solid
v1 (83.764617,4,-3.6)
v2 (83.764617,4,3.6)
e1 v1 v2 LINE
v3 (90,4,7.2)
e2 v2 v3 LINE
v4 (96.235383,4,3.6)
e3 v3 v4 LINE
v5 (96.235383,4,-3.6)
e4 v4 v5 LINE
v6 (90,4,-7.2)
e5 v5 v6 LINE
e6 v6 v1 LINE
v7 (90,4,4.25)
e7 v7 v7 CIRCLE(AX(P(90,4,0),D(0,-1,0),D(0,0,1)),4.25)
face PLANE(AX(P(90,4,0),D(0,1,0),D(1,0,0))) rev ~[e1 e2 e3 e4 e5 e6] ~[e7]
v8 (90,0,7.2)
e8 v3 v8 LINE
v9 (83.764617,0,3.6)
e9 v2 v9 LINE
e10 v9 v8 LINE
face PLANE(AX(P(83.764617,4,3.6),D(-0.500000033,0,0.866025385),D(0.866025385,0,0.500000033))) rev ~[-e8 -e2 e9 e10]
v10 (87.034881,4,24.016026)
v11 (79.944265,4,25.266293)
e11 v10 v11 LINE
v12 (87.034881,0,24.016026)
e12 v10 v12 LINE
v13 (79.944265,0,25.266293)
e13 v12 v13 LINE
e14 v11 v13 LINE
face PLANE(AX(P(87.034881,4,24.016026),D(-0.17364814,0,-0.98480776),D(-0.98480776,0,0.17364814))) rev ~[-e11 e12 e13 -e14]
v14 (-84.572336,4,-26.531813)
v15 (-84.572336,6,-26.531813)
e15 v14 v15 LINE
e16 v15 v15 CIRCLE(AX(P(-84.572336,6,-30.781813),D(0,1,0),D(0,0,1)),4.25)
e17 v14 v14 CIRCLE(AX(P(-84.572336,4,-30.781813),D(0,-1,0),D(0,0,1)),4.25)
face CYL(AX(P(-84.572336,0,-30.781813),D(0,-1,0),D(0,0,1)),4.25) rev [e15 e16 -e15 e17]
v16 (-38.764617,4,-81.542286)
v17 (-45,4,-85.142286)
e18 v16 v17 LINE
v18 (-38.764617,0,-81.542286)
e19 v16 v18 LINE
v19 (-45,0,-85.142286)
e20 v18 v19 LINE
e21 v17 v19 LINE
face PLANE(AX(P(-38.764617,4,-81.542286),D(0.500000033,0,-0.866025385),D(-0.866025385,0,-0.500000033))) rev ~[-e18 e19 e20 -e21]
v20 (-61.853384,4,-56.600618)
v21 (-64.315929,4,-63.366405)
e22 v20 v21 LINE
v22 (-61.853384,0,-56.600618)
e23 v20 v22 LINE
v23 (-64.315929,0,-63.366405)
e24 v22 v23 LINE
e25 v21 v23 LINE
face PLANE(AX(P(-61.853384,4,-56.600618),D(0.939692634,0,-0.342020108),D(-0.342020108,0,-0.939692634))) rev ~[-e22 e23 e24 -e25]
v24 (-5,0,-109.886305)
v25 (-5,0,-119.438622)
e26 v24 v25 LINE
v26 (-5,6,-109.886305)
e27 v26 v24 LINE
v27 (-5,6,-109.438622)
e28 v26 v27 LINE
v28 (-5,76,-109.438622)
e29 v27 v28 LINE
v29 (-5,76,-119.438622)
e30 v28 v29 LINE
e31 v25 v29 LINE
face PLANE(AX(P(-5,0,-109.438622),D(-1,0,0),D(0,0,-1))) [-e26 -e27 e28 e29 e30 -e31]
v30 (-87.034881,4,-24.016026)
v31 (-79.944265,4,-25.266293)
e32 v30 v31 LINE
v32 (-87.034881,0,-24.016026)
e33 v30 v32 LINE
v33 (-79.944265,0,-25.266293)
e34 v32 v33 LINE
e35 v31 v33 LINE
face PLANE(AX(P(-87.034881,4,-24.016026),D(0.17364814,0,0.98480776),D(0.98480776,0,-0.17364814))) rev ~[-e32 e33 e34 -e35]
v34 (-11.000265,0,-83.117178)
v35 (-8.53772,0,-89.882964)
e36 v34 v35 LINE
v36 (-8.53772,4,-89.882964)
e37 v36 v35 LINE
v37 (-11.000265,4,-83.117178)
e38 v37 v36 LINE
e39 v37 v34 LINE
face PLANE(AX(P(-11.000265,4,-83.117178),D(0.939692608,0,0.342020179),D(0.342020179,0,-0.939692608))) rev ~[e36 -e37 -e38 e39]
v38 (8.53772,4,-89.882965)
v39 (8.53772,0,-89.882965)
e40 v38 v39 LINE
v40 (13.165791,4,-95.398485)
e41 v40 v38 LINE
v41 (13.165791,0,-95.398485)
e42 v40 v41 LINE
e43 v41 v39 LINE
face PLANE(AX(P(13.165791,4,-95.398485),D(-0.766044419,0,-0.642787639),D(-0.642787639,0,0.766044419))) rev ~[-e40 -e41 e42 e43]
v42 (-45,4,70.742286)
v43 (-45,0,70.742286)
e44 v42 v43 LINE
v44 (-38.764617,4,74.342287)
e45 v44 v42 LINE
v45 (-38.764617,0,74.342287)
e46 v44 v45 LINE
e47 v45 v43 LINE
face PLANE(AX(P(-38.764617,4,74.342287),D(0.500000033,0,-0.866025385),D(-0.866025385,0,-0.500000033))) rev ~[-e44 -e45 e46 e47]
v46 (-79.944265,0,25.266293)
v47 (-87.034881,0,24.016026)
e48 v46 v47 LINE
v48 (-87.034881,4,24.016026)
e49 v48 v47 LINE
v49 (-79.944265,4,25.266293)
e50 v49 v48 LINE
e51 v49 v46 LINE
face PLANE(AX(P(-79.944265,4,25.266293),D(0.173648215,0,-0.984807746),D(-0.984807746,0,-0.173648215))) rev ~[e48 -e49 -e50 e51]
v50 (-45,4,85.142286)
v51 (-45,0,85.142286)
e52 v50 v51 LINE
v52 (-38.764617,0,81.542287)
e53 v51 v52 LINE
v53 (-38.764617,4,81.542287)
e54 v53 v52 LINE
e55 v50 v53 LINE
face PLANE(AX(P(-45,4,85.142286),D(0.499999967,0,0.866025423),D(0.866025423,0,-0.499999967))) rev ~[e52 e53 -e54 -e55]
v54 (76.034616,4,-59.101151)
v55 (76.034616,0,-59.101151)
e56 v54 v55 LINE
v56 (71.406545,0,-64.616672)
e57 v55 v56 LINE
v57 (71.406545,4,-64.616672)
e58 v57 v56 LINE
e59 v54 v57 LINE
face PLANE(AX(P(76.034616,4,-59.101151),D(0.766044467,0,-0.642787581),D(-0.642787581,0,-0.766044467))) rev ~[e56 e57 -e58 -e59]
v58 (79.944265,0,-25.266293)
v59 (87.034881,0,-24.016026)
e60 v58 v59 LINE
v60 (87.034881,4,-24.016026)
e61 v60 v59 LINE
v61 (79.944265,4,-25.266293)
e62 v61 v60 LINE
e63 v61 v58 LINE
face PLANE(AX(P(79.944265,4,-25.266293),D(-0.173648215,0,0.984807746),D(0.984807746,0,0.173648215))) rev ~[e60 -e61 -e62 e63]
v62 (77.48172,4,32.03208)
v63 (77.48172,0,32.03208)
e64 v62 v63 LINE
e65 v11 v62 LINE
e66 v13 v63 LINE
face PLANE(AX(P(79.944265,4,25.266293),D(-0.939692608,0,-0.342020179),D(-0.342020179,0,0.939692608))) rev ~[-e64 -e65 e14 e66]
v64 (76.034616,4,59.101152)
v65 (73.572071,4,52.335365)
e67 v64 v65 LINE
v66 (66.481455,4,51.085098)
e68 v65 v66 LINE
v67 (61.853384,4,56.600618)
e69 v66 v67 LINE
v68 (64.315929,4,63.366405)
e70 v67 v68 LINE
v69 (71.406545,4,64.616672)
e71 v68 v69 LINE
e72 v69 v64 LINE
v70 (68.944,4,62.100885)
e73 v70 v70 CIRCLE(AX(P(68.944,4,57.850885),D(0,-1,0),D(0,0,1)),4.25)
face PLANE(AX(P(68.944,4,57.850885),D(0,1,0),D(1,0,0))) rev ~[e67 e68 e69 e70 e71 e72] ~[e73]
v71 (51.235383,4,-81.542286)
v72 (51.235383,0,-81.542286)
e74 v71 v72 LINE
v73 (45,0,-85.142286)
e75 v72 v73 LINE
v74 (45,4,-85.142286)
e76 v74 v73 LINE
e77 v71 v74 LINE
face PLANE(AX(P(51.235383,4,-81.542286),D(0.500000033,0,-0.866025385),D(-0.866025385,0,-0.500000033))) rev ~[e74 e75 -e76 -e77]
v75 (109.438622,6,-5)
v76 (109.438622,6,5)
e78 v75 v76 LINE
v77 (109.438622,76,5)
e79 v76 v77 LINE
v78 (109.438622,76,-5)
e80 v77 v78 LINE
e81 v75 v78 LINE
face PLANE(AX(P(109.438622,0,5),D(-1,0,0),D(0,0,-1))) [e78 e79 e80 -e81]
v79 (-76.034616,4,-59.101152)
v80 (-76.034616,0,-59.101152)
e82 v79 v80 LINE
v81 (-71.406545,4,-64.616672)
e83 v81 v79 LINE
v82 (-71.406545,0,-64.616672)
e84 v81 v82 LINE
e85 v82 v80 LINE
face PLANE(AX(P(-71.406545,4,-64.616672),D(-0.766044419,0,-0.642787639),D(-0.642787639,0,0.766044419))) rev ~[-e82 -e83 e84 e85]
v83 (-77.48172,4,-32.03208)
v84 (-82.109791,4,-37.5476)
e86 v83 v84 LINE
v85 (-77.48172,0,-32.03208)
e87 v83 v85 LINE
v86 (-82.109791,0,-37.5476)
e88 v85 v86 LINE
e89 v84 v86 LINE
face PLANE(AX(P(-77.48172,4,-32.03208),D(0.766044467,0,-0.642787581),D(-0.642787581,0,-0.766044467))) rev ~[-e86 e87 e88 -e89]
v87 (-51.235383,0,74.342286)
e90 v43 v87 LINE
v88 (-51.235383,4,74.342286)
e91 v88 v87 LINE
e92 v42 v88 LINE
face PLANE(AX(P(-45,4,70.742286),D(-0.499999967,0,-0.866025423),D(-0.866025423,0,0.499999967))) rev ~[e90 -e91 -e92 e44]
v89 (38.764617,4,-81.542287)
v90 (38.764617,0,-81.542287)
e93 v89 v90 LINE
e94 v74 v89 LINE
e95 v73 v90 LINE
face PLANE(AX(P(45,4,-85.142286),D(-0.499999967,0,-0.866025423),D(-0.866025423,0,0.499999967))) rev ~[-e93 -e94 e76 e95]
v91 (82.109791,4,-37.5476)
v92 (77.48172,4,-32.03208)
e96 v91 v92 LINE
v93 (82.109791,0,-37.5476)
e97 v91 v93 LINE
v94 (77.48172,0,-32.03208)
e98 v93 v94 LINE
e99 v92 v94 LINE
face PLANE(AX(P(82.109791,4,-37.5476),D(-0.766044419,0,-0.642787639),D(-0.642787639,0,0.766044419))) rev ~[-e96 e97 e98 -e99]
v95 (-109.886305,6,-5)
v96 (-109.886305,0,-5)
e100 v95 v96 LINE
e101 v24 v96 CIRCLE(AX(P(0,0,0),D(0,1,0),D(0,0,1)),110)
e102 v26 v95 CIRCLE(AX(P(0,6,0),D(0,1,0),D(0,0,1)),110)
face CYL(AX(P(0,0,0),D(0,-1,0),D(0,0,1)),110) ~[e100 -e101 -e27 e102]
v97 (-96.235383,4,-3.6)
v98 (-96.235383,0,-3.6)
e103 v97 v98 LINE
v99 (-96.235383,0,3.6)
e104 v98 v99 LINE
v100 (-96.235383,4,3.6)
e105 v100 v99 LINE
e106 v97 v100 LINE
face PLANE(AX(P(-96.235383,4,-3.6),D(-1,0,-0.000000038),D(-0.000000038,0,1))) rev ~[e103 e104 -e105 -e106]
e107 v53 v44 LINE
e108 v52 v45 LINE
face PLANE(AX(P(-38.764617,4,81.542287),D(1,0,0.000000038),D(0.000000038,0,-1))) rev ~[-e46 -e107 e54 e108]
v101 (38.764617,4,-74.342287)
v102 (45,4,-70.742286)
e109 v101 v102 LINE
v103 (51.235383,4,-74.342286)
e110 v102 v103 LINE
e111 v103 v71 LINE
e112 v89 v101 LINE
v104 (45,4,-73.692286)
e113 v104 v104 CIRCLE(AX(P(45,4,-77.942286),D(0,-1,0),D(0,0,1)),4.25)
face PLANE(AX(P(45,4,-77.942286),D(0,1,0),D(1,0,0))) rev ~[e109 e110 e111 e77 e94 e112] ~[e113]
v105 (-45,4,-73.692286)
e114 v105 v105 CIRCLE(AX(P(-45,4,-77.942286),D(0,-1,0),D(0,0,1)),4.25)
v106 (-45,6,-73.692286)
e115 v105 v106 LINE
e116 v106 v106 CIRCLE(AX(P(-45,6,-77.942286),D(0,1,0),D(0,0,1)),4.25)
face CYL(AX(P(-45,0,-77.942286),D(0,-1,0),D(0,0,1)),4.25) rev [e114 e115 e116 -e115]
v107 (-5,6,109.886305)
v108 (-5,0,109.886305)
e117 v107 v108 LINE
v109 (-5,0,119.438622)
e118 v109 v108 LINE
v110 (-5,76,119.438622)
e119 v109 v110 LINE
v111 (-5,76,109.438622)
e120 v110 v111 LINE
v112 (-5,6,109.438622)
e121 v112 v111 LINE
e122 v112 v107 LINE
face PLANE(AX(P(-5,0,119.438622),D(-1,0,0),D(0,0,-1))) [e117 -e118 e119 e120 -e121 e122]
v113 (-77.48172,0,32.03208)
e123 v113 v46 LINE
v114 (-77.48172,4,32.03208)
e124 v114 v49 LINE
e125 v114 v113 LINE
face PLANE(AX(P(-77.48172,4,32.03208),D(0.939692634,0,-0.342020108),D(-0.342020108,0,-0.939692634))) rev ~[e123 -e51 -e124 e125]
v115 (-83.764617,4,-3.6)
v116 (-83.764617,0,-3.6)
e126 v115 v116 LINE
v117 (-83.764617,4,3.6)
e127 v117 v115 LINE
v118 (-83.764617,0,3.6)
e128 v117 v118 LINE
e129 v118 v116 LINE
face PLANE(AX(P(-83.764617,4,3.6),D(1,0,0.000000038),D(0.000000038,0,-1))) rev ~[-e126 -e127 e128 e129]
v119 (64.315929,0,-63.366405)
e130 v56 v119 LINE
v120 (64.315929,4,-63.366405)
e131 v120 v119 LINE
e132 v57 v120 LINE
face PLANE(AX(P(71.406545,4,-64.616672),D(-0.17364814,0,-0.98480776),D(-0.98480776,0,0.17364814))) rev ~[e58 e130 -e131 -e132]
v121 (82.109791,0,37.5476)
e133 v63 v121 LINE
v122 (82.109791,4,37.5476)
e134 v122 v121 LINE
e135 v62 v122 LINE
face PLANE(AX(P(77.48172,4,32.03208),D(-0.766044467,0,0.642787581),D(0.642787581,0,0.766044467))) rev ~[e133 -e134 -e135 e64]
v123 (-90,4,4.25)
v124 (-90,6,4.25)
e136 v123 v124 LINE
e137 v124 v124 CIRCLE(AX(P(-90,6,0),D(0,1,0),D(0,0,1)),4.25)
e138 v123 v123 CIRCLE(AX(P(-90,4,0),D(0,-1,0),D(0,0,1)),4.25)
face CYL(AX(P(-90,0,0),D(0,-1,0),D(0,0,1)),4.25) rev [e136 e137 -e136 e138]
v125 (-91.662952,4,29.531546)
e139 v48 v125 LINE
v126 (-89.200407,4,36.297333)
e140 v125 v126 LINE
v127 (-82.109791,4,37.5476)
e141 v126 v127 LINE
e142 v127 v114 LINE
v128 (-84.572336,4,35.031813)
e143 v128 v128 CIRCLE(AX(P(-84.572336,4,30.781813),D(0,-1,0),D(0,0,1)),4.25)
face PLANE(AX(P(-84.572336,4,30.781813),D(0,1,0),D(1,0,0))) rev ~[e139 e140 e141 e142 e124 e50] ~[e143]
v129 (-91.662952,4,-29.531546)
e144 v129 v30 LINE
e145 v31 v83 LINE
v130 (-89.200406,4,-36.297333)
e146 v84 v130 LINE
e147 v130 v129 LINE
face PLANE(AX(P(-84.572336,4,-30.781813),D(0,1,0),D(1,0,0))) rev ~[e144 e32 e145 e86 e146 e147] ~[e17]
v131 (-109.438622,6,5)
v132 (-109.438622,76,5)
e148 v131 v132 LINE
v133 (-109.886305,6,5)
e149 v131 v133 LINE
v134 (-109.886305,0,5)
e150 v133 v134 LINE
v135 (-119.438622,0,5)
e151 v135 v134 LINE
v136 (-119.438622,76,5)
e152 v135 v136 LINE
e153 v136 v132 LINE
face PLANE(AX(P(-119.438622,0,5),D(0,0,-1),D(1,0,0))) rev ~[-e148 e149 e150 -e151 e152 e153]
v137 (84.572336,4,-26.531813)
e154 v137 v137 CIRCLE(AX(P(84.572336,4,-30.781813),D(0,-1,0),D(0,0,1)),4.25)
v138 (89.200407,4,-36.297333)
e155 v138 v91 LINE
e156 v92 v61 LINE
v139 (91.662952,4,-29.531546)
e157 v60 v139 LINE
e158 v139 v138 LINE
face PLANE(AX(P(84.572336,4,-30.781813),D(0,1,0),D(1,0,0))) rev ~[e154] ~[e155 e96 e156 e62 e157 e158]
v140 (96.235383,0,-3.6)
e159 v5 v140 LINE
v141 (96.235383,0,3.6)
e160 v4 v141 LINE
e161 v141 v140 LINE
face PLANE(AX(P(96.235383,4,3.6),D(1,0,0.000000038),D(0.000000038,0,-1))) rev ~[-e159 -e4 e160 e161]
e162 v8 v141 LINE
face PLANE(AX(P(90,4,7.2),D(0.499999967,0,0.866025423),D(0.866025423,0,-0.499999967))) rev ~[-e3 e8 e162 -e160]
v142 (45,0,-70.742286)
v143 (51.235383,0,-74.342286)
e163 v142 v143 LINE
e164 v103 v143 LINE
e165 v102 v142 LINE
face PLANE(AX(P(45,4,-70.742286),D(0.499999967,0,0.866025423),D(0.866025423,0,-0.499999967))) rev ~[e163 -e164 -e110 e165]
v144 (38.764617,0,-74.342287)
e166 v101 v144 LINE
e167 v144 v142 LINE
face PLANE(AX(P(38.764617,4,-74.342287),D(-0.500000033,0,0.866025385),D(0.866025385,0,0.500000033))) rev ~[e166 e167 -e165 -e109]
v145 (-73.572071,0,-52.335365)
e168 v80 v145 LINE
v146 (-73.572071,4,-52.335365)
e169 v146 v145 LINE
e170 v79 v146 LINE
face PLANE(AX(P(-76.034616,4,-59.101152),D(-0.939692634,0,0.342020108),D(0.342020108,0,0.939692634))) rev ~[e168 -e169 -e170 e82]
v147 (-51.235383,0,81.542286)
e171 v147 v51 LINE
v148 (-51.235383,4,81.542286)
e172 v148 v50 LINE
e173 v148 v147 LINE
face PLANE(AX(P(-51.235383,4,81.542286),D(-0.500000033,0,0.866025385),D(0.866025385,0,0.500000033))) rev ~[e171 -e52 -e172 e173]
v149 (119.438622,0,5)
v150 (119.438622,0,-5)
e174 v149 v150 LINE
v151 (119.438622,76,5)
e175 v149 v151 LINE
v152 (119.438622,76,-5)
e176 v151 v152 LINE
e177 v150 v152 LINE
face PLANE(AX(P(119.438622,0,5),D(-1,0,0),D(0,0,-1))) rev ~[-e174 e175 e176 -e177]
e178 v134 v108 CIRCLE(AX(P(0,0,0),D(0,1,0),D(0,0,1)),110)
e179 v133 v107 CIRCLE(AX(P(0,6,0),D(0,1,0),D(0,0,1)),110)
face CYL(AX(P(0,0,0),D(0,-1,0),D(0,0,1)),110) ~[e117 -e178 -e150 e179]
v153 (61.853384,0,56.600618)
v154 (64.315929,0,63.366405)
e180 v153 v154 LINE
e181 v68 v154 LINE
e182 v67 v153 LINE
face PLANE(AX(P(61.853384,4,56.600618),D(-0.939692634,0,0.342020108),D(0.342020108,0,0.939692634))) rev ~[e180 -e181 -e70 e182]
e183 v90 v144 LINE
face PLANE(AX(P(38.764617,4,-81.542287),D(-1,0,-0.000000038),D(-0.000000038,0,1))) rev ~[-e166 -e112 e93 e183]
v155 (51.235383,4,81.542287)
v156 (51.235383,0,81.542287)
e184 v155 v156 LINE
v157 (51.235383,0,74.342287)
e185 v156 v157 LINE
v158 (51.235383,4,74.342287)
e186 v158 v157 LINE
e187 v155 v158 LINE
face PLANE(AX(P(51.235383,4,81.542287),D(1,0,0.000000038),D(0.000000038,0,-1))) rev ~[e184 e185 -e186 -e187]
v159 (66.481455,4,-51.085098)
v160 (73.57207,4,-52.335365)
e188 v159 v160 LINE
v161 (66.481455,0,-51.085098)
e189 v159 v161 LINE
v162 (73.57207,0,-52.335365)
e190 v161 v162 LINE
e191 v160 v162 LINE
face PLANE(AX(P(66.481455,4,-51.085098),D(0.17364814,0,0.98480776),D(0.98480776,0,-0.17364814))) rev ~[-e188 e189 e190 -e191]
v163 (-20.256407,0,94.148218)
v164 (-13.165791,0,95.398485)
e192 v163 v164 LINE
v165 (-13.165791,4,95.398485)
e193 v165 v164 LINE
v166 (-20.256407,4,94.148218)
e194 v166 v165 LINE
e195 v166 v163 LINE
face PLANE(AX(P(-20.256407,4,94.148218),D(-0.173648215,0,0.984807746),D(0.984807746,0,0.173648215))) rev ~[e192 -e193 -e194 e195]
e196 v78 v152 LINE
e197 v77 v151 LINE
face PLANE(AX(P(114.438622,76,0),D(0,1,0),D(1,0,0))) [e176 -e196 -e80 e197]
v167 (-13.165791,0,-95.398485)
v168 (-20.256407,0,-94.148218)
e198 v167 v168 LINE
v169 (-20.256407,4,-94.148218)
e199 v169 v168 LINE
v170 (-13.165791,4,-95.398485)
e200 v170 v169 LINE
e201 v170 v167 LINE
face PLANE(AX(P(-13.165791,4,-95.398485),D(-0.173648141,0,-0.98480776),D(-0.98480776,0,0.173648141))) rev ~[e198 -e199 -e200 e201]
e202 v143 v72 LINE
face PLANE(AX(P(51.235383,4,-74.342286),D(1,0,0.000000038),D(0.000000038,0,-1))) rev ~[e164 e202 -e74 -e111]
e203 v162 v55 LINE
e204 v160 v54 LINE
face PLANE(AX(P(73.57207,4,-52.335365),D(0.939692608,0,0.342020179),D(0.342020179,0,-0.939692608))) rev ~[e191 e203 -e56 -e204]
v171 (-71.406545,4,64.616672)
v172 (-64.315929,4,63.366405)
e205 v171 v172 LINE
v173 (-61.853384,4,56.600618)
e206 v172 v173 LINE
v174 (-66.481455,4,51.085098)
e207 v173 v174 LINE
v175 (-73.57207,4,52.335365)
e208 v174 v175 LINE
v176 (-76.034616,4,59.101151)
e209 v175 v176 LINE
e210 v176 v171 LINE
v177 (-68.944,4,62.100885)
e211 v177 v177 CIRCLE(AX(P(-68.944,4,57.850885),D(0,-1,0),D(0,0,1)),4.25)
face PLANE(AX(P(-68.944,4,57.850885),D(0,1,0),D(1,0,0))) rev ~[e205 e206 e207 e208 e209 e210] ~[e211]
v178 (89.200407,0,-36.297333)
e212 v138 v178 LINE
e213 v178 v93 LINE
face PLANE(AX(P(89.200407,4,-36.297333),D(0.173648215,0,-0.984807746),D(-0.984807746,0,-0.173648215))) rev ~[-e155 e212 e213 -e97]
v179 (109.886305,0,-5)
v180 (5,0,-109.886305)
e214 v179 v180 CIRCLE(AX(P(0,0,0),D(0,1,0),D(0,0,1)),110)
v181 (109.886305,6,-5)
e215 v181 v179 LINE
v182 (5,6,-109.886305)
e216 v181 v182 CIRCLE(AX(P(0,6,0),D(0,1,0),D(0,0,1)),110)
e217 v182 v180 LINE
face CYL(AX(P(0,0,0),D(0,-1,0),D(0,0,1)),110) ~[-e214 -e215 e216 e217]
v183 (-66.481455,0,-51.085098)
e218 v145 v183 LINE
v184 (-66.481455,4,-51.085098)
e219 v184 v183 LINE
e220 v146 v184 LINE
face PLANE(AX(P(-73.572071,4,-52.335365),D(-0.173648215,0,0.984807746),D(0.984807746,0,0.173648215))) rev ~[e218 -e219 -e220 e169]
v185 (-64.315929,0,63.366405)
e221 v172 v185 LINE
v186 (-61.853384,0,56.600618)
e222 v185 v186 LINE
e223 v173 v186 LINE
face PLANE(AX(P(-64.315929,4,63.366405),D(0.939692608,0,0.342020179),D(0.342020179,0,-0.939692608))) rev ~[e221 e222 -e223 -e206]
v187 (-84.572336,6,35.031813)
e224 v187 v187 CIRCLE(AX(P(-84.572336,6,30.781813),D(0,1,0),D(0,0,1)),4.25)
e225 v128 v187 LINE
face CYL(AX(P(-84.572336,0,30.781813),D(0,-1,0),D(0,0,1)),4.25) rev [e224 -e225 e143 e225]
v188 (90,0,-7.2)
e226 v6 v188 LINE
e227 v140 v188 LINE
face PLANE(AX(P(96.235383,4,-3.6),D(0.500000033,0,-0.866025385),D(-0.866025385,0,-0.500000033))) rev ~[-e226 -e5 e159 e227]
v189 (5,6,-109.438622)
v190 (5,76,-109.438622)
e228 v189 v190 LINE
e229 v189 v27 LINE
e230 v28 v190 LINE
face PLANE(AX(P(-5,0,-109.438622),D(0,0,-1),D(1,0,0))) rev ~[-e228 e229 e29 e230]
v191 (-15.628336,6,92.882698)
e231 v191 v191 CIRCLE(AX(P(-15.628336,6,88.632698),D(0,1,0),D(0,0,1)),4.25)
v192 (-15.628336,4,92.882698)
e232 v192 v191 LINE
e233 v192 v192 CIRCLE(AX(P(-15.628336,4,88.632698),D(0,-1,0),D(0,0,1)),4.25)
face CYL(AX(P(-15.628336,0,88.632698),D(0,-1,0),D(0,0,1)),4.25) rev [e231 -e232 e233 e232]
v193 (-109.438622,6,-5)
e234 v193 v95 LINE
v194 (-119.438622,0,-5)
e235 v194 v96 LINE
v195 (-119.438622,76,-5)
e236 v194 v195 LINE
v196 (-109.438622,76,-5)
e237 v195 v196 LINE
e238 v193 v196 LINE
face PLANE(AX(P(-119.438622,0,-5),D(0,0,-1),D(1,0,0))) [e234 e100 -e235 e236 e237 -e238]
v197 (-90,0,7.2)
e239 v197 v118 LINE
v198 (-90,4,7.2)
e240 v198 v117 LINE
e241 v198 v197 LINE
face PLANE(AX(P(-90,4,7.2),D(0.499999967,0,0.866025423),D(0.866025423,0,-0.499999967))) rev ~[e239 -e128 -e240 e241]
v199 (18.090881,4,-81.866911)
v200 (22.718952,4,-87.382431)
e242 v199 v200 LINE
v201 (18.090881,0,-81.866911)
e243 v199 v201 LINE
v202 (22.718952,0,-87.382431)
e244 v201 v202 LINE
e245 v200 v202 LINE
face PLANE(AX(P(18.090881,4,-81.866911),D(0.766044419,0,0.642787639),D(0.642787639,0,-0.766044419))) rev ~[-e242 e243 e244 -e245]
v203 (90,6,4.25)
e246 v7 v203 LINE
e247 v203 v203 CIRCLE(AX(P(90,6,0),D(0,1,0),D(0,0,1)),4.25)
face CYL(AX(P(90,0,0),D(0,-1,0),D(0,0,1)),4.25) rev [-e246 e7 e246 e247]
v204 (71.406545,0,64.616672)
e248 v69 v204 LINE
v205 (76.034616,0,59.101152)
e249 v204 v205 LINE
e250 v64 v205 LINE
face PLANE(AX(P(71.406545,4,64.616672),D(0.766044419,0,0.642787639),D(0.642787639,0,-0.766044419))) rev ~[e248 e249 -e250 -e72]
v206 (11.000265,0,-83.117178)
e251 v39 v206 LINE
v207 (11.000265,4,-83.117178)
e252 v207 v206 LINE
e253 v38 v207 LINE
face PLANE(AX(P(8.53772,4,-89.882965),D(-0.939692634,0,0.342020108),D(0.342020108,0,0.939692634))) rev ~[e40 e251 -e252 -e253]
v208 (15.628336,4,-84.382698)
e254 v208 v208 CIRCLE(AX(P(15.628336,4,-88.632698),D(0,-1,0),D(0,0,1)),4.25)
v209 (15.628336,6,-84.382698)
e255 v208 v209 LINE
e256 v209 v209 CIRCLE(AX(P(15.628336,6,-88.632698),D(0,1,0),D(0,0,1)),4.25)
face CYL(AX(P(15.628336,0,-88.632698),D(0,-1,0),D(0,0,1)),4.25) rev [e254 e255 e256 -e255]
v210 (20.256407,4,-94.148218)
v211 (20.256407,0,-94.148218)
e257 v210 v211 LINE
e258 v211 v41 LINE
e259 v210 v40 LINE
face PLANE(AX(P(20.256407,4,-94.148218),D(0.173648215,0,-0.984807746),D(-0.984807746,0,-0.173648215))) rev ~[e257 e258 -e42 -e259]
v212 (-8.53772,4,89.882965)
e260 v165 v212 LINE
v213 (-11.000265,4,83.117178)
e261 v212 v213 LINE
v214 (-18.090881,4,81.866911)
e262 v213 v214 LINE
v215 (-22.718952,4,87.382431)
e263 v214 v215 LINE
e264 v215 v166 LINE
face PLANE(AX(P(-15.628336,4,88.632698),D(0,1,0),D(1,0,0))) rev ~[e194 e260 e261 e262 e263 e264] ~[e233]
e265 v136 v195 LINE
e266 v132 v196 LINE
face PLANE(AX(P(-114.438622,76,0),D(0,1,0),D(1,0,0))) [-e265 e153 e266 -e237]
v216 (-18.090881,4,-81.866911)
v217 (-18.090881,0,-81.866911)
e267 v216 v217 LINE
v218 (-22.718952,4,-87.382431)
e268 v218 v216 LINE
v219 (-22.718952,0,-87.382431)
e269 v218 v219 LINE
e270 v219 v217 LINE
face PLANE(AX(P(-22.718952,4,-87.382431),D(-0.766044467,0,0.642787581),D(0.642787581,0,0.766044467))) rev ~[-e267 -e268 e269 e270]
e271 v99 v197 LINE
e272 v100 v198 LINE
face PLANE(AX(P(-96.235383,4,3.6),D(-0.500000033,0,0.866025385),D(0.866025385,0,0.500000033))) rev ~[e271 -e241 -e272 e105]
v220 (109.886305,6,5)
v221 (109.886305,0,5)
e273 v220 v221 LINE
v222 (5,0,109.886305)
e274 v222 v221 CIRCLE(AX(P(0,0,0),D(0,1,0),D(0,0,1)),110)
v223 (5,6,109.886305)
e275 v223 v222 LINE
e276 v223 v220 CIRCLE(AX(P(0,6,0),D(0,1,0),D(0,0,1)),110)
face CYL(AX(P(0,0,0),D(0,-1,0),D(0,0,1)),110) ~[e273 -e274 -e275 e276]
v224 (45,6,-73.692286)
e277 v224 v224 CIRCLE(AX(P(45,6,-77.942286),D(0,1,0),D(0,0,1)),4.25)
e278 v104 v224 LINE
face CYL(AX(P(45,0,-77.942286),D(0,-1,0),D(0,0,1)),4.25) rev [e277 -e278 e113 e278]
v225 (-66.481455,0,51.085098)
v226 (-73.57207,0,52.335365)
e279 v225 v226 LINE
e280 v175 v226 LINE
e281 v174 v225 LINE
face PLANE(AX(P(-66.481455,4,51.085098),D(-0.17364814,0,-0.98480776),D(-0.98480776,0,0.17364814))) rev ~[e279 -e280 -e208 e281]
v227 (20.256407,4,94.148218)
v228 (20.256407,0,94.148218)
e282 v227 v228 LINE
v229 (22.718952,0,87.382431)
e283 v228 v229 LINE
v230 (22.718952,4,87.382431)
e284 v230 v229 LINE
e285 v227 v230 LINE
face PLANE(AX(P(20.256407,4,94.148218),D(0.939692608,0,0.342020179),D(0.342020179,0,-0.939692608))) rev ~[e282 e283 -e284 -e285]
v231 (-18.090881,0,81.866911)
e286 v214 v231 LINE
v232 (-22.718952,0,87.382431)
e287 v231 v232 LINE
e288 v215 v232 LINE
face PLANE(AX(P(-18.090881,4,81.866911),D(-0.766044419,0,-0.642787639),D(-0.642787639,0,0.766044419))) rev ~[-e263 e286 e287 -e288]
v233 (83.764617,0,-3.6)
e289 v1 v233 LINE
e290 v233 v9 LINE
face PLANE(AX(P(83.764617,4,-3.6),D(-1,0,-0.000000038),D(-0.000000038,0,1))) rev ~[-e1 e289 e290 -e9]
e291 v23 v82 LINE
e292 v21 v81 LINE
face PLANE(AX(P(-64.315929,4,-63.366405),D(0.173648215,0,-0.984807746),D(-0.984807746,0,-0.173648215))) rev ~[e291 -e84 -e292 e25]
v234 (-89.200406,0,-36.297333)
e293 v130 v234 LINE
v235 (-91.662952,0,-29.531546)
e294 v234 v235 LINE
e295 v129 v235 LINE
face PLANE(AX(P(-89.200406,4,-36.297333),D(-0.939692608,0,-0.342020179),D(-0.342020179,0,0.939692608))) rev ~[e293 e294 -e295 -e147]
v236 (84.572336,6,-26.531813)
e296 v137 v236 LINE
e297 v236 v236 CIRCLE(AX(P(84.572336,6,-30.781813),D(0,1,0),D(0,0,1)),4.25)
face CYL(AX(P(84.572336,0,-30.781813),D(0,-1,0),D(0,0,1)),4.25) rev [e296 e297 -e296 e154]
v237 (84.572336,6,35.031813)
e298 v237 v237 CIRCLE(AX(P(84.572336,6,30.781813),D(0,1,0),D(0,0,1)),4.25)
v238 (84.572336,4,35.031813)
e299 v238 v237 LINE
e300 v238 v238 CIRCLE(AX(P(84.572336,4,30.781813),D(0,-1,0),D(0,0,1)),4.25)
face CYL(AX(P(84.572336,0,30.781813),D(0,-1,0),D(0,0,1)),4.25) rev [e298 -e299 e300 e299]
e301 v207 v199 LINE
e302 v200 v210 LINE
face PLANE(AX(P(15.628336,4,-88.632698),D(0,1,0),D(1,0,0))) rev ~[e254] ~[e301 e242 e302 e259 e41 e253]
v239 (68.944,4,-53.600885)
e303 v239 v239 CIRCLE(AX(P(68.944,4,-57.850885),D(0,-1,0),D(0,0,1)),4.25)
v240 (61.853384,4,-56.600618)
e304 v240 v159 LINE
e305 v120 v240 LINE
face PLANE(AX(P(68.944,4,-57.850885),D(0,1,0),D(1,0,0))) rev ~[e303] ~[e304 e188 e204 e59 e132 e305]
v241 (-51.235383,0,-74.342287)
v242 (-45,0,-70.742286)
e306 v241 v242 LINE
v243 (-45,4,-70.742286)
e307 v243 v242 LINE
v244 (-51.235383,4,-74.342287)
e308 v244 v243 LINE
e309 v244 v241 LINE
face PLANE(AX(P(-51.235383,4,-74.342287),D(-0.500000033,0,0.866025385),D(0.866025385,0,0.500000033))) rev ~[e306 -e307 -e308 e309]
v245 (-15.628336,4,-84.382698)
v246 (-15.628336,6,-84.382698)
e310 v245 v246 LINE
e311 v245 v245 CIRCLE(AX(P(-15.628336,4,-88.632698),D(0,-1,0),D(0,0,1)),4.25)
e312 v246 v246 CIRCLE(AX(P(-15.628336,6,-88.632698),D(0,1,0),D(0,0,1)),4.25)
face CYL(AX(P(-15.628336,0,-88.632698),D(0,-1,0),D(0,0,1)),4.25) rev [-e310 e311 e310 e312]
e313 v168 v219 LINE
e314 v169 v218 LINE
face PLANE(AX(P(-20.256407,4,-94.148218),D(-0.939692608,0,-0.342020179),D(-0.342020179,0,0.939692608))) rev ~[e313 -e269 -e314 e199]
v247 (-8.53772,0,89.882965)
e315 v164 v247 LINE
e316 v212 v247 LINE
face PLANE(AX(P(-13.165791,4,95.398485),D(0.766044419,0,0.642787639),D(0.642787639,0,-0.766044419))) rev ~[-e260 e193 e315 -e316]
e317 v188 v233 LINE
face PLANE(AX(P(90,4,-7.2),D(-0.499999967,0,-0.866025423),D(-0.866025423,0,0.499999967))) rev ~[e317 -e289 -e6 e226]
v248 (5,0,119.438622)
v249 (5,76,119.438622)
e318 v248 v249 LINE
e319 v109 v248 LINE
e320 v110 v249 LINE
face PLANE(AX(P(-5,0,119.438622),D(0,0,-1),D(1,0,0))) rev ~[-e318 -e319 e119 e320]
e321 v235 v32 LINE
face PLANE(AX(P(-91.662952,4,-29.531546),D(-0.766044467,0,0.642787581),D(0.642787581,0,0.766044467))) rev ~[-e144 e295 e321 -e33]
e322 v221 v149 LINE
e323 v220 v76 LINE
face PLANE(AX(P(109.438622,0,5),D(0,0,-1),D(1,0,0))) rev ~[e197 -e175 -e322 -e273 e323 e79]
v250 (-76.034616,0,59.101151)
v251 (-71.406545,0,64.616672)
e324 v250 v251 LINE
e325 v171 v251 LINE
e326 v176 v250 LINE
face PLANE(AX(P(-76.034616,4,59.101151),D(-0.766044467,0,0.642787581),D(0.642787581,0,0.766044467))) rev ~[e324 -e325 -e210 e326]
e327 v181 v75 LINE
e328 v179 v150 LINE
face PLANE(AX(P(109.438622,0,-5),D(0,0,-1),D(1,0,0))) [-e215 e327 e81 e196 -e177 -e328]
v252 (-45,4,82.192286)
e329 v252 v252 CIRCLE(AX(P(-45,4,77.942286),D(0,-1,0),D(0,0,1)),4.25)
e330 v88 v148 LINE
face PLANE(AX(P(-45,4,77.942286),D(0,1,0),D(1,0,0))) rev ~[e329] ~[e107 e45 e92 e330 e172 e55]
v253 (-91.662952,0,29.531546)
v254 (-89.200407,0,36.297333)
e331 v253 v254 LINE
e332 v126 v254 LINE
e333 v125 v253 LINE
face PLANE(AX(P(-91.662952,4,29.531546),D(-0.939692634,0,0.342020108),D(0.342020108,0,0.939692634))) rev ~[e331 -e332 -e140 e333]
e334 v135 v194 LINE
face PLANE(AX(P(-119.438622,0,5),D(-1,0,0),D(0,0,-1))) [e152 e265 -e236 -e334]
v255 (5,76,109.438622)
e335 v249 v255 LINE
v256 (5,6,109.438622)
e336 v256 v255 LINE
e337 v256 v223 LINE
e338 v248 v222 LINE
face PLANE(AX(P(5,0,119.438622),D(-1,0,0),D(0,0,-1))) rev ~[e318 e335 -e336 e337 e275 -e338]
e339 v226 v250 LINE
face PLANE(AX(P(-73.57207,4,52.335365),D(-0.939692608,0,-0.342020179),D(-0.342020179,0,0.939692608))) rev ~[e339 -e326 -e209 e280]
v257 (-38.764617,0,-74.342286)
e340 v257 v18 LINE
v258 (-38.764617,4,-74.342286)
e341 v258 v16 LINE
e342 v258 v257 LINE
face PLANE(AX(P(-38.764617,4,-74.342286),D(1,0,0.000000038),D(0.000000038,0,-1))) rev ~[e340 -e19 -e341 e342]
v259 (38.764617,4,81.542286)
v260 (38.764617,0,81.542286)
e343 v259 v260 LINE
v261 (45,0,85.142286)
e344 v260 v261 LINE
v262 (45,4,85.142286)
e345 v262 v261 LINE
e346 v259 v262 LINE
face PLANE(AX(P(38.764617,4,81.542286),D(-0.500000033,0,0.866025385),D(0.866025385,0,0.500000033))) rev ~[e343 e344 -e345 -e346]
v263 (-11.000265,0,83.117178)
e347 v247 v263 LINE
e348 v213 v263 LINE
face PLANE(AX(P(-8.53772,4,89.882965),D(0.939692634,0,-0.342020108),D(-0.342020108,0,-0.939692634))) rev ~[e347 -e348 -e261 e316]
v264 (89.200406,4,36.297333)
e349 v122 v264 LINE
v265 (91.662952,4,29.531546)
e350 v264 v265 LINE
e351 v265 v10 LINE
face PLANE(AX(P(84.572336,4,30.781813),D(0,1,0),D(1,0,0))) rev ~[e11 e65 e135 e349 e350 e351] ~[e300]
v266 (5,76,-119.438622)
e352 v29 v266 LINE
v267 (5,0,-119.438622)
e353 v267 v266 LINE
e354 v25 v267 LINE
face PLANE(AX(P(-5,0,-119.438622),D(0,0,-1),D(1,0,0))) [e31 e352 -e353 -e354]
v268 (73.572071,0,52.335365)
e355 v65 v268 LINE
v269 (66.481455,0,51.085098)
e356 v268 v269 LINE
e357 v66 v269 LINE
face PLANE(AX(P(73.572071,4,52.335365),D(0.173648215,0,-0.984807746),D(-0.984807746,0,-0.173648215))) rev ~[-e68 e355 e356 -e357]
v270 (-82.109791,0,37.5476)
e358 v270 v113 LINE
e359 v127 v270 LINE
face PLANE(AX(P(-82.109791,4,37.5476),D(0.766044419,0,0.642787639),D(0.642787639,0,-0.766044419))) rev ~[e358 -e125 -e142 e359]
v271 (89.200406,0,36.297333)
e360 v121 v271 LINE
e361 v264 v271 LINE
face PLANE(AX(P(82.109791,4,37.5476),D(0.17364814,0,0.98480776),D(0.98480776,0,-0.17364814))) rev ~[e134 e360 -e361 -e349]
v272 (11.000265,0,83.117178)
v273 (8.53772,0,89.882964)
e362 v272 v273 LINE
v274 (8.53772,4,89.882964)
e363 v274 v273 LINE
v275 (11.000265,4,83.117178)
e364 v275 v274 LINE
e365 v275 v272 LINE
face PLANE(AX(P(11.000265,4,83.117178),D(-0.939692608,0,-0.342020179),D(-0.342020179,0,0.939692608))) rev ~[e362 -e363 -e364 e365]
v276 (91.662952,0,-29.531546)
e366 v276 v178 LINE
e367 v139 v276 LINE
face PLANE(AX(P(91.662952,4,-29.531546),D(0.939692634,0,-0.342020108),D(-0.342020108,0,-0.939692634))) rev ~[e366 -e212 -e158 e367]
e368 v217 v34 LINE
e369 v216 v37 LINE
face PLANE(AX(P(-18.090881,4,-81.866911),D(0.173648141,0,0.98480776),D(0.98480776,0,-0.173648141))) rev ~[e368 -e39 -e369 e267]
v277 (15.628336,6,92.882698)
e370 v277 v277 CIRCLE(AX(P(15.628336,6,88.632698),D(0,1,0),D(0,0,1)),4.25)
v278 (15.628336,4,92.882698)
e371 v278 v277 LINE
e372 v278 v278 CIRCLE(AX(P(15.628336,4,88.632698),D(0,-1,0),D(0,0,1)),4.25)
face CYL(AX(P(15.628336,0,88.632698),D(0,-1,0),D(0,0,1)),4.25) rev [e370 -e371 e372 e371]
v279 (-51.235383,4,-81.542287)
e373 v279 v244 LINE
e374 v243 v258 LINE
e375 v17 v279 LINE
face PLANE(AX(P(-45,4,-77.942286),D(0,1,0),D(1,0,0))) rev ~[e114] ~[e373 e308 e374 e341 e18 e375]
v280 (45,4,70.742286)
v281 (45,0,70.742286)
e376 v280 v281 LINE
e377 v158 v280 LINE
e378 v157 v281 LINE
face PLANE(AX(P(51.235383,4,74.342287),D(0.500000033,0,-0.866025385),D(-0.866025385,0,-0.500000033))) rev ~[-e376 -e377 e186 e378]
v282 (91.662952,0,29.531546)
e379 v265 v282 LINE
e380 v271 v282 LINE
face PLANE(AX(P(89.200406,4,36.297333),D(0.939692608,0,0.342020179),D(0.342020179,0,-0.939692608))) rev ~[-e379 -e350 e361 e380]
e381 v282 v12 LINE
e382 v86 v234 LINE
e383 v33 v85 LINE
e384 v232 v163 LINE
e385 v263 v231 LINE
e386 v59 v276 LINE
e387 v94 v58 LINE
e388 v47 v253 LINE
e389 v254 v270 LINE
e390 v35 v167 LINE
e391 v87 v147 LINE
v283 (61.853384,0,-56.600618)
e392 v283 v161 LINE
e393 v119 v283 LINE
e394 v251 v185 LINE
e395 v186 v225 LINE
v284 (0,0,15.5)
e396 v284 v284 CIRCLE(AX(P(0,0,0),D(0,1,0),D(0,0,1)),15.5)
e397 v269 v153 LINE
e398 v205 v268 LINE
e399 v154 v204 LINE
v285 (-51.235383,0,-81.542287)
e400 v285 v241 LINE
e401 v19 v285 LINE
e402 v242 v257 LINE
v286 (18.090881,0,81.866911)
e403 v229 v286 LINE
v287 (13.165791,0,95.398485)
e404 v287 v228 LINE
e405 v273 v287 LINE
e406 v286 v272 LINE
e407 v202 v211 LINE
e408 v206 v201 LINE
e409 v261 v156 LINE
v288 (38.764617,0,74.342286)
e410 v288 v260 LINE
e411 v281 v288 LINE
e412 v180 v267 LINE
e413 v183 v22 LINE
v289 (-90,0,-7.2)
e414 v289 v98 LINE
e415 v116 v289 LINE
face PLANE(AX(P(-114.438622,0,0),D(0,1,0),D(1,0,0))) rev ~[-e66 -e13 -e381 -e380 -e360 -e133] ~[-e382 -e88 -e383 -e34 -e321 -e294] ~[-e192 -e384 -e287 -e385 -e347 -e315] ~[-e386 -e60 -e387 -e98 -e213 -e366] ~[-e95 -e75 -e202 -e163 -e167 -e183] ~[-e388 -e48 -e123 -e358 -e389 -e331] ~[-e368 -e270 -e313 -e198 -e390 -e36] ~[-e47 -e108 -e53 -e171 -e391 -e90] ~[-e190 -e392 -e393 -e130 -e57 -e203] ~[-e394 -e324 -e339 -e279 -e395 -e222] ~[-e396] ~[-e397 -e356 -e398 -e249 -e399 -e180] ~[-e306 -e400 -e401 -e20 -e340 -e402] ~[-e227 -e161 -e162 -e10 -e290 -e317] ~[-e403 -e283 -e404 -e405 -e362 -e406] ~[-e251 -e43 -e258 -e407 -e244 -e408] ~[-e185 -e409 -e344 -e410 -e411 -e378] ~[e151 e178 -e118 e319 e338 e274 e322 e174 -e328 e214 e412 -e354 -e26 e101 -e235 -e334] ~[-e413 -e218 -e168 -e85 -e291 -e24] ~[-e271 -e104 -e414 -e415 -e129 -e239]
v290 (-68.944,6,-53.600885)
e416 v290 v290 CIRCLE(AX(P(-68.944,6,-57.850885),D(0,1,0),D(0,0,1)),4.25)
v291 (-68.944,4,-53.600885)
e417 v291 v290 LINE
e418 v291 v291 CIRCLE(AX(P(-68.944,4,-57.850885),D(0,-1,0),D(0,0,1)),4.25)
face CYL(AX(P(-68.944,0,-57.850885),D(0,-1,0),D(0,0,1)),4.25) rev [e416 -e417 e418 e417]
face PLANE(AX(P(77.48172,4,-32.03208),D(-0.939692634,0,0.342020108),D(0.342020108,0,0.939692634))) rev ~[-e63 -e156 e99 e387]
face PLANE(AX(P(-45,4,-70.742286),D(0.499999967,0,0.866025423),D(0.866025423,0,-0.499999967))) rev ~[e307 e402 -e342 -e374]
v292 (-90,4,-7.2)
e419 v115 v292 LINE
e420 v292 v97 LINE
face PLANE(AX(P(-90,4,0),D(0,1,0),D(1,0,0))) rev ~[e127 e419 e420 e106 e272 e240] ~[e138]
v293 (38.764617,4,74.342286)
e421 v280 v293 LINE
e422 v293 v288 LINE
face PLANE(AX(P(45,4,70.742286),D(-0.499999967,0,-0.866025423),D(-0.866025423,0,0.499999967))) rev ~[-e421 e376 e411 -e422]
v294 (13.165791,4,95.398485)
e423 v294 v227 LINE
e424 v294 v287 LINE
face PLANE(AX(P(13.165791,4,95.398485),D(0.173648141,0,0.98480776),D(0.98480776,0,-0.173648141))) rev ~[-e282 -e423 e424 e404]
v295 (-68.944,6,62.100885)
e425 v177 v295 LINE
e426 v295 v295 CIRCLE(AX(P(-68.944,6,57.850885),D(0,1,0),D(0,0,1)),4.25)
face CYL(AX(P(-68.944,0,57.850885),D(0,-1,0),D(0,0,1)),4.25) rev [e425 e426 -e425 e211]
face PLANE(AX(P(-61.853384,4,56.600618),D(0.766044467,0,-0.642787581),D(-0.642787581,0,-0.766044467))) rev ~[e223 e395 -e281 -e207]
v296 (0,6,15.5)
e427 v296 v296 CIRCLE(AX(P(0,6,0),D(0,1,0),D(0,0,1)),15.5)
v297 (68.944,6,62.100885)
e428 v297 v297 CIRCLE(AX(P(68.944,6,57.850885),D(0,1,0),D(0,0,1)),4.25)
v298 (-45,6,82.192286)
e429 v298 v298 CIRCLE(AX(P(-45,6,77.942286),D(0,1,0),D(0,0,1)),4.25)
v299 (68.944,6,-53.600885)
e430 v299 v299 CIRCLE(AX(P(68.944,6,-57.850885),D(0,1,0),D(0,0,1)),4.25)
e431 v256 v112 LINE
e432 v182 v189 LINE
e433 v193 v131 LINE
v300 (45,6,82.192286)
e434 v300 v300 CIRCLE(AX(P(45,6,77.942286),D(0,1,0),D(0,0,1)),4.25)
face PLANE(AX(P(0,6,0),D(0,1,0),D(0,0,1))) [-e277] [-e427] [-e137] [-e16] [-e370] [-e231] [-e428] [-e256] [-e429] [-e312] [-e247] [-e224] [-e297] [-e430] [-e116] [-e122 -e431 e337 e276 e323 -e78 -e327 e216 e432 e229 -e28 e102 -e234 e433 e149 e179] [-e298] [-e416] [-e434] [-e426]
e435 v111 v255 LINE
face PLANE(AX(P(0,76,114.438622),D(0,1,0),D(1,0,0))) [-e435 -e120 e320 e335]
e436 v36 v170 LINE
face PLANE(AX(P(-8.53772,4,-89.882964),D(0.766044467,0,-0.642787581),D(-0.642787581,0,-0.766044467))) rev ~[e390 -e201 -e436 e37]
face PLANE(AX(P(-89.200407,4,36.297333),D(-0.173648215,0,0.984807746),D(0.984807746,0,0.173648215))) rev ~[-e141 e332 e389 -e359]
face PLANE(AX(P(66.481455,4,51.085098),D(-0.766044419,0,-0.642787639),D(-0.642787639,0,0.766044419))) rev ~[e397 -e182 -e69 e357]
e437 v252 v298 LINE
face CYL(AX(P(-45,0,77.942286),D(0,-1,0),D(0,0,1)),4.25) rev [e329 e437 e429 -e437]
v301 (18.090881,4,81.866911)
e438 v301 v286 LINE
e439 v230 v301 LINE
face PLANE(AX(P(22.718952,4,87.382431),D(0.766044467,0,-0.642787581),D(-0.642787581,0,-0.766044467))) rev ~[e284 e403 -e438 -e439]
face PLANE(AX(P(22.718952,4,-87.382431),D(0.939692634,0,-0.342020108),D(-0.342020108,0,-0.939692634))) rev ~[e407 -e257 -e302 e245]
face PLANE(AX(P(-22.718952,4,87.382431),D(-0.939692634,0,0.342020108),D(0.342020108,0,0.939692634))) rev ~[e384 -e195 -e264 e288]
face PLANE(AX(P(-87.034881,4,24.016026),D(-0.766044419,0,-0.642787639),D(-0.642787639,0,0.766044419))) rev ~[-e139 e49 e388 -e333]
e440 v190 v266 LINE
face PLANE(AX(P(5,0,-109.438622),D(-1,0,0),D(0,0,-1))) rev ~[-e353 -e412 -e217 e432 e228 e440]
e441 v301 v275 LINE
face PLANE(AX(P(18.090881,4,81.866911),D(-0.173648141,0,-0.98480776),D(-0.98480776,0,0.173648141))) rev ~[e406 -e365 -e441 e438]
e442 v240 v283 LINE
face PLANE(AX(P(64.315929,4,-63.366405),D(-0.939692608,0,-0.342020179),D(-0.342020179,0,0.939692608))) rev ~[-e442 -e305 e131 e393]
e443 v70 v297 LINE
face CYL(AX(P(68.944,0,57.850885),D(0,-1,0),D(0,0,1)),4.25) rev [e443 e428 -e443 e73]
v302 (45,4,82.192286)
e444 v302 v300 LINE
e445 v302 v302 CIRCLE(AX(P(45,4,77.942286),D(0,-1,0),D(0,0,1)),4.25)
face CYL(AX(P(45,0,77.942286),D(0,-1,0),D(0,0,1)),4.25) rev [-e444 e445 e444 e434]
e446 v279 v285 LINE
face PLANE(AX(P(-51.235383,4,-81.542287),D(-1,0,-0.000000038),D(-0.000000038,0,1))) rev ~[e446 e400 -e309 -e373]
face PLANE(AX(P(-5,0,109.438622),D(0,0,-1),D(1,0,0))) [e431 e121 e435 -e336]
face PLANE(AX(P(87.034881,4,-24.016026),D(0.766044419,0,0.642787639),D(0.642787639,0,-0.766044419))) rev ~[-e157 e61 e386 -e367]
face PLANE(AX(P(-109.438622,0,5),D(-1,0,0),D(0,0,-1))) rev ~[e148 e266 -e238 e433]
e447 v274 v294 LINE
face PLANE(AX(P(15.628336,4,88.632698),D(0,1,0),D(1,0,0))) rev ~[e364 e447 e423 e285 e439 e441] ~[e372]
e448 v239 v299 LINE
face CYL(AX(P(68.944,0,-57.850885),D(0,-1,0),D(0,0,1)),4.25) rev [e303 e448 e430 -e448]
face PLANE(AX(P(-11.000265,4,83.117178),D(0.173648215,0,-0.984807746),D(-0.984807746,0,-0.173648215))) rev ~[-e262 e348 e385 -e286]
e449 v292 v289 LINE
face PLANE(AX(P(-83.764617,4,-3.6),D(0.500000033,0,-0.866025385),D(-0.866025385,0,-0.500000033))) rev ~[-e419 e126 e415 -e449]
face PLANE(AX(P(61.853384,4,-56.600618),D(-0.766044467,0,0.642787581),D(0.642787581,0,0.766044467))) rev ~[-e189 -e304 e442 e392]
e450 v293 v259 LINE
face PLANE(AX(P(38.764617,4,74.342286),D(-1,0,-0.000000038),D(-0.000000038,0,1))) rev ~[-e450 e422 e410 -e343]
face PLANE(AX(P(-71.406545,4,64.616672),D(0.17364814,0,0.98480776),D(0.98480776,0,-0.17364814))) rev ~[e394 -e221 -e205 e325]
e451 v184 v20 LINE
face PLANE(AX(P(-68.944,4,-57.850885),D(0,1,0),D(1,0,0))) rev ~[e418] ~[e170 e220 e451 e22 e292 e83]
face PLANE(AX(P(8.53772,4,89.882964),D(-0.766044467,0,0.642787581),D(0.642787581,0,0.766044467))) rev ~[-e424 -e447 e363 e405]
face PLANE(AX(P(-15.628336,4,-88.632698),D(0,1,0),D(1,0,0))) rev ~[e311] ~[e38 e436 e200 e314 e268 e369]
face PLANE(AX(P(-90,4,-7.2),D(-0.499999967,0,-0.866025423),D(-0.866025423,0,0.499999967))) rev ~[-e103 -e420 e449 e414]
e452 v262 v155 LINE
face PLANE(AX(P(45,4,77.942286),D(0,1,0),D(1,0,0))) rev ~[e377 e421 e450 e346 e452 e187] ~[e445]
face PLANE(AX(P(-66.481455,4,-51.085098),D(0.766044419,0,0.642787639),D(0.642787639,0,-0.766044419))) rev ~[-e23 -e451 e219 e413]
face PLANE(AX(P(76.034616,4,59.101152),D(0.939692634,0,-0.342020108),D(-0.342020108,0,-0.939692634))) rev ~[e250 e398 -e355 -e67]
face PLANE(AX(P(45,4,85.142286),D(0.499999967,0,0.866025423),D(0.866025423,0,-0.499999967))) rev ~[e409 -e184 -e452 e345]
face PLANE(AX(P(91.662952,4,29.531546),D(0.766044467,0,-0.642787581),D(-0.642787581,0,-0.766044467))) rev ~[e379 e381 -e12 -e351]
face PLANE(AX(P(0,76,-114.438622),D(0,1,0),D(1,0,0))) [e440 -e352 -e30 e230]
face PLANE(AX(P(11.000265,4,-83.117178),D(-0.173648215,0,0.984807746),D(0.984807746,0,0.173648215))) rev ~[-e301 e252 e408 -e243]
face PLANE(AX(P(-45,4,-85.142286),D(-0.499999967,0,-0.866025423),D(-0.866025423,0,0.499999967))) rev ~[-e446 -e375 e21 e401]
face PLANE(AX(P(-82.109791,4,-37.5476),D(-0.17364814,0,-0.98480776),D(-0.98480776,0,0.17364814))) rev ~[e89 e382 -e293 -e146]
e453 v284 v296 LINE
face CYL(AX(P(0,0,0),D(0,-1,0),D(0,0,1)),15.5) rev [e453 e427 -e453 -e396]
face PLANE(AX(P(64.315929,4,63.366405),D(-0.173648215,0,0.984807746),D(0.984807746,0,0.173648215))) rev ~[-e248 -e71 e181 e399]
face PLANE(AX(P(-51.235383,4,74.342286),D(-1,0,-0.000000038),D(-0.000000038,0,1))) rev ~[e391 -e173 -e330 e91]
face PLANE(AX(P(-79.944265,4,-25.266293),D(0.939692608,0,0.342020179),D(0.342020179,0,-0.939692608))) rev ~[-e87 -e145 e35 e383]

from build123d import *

# Parameters (mm, degrees)
SKETCH1_R           = 110
SKETCH1_R_2         = 4.25
SKETCH1_R_3         = 15.5
BOSS_EXTRUDE1_DEPTH = 6
CUT_EXTRUDE1_START  = -2
CUT_EXTRUDE1_DEPTH  = 6
BOSS_EXTRUDE3_START = -6
SKETCH4_W           = 10
SKETCH4_H           = 10
BOSS_EXTRUDE3_DEPTH = 76


with BuildPart() as part:
    # Sketch1 → Boss-Extrude1 (new body)
    with BuildSketch(Plane(origin=(0, 0, 0), x_dir=(1, 0, 0), z_dir=(0, 1, 0))):
        with Locations(Location((0, 0, 0), (0, 0, 270))):
            Circle(SKETCH1_R)
        with Locations(Location((-90, 0, 0), (0, 0, 270))):
            Circle(SKETCH1_R_2, mode=Mode.SUBTRACT)
        with Locations(Location((-84.572335871, 30.781812899, 0), (0, 0, 270))):
            Circle(SKETCH1_R_2, mode=Mode.SUBTRACT)
        with Locations(Location((-68.943999881, 57.850884872, 0), (0, 0, 270))):
            Circle(SKETCH1_R_2, mode=Mode.SUBTRACT)
        with Locations(Location((-45, 77.942286341, 0), (0, 0, 270))):
            Circle(SKETCH1_R_2, mode=Mode.SUBTRACT)
        with Locations(Location((-15.62833599, 88.632697771, 0), (0, 0, 270))):
            Circle(SKETCH1_R_2, mode=Mode.SUBTRACT)
        with Locations(Location((15.62833599, 88.632697771, 0), (0, 0, 270))):
            Circle(SKETCH1_R_2, mode=Mode.SUBTRACT)
        with Locations(Location((45, 77.942286341, 0), (0, 0, 270))):
            Circle(SKETCH1_R_2, mode=Mode.SUBTRACT)
        with Locations(Location((68.943999881, 57.850884872, 0), (0, 0, 270))):
            Circle(SKETCH1_R_2, mode=Mode.SUBTRACT)
        with Locations(Location((84.572335871, 30.781812899, 0), (0, 0, 270))):
            Circle(SKETCH1_R_2, mode=Mode.SUBTRACT)
        with Locations(Location((90, 0, 0), (0, 0, 270))):
            Circle(SKETCH1_R_2, mode=Mode.SUBTRACT)
        with Locations(Location((84.572335871, -30.781812899, 0), (0, 0, 270))):
            Circle(SKETCH1_R_2, mode=Mode.SUBTRACT)
        with Locations(Location((68.943999881, -57.850884872, 0), (0, 0, 270))):
            Circle(SKETCH1_R_2, mode=Mode.SUBTRACT)
        with Locations(Location((45, -77.942286341, 0), (0, 0, 270))):
            Circle(SKETCH1_R_2, mode=Mode.SUBTRACT)
        with Locations(Location((15.62833599, -88.632697771, 0), (0, 0, 270))):
            Circle(SKETCH1_R_2, mode=Mode.SUBTRACT)
        with Locations(Location((-15.62833599, -88.632697771, 0), (0, 0, 270))):
            Circle(SKETCH1_R_2, mode=Mode.SUBTRACT)
        with Locations(Location((-45, -77.942286341, 0), (0, 0, 270))):
            Circle(SKETCH1_R_2, mode=Mode.SUBTRACT)
        with Locations(Location((-68.943999881, -57.850884872, 0), (0, 0, 270))):
            Circle(SKETCH1_R_2, mode=Mode.SUBTRACT)
        with Locations(Location((-84.572335871, -30.781812899, 0), (0, 0, 270))):
            Circle(SKETCH1_R_2, mode=Mode.SUBTRACT)
        with Locations(Location((0, 0, 0), (0, 0, 270))):
            Circle(SKETCH1_R_3, mode=Mode.SUBTRACT)
    extrude(amount=BOSS_EXTRUDE1_DEPTH)

    # Sketch2 → Cut-Extrude1 (cut)
    with BuildSketch(Plane(origin=(0, 6, 0), x_dir=(1, 0, 0), z_dir=(0, 1, 0)).offset(CUT_EXTRUDE1_START)):
        Polygon((-87.034881158, 24.016026123), (-79.944265289, 25.266292734), (-77.481720002, 32.032079511), (-82.109790583, 37.547599676), (-89.200406452, 36.297333065), (-91.66295174, 29.531546288), align=None)
        Polygon((-90.000000272, -7.2), (-83.764617229, -3.600000236), (-83.764616957, 3.599999764), (-89.999999728, 7.2), (-96.235382771, 3.600000236), (-96.235383043, -3.599999764), align=None)
        Polygon((-73.572070879, 52.335365056), (-66.481455104, 51.085097909), (-61.853384106, 56.600617725), (-64.315928883, 63.366404687), (-71.406544657, 64.616671834), (-76.034615655, 59.101152019), align=None)
        Polygon((-51.235383043, 74.342286576), (-45.000000272, 70.742286341), (-38.764617229, 74.342286105), (-38.764616957, 81.542286105), (-44.999999728, 85.142286341), (-51.235382771, 81.542286576), align=None)
        Polygon((-22.718951859, 87.38243116), (-18.090881278, 81.866910994), (-11.000265409, 83.117177606), (-8.537720121, 89.882964382), (-13.165790702, 95.398484548), (-20.256406571, 94.148217936), align=None)
        Polygon((8.537720216, 89.882964918), (11.000264992, 83.117177955), (18.090880766, 81.866910808), (22.718951764, 87.382430624), (20.256406988, 94.148217587), (13.165791214, 95.398484734), align=None)
        Polygon((38.764617229, 81.542286576), (38.764616957, 74.342286576), (44.999999728, 70.742286341), (51.235382771, 74.342286105), (51.235383043, 81.542286105), (45.000000272, 85.142286341), align=None)
        Polygon((64.315929299, 63.366405037), (61.853384012, 56.60061826), (66.481454593, 51.085098095), (73.572070462, 52.335364706), (76.03461575, 59.101151483), (71.406545168, 64.616671648), align=None)
        Polygon((82.109791094, 37.547599862), (77.481720096, 32.032080046), (79.944264873, 25.266293084), (87.034880647, 24.016025937), (91.662951645, 29.531545752), (89.200406869, 36.297332715), align=None)
        Polygon((90.000000272, 7.2), (83.764617229, 3.600000236), (83.764616957, -3.599999764), (89.999999728, -7.2), (96.235382771, -3.600000236), (96.235383043, 3.599999764), align=None)
        Polygon((87.034881158, -24.016026123), (79.944265289, -25.266292734), (77.481720002, -32.032079511), (82.109790583, -37.547599676), (89.200406452, -36.297333065), (91.66295174, -29.531546288), align=None)
        Polygon((73.572070879, -52.335365056), (66.481455104, -51.085097909), (61.853384106, -56.600617725), (64.315928883, -63.366404687), (71.406544657, -64.616671834), (76.034615655, -59.101152019), align=None)
        Polygon((51.235383043, -74.342286576), (45.000000272, -70.742286341), (38.764617229, -74.342286105), (38.764616957, -81.542286105), (44.999999728, -85.142286341), (51.235382771, -81.542286576), align=None)
        Polygon((22.718951859, -87.38243116), (18.090881278, -81.866910994), (11.000265409, -83.117177606), (8.537720121, -89.882964382), (13.165790702, -95.398484548), (20.256406571, -94.148217936), align=None)
        Polygon((-8.537720216, -89.882964918), (-11.000264992, -83.117177955), (-18.090880766, -81.866910808), (-22.718951764, -87.382430624), (-20.256406988, -94.148217587), (-13.165791214, -95.398484734), align=None)
        Polygon((-38.764617229, -81.542286576), (-38.764616957, -74.342286576), (-44.999999728, -70.742286341), (-51.235382771, -74.342286105), (-51.235383043, -81.542286105), (-45.000000272, -85.142286341), align=None)
        Polygon((-64.315929299, -63.366405037), (-61.853384012, -56.60061826), (-66.481454593, -51.085098095), (-73.572070462, -52.335364706), (-76.03461575, -59.101151483), (-71.406545168, -64.616671648), align=None)
        Polygon((-82.109791094, -37.547599862), (-77.481720096, -32.032080046), (-79.944264873, -25.266293084), (-87.034880647, -24.016025937), (-91.662951645, -29.531545752), (-89.200406869, -36.297332715), align=None)
    extrude(amount=-CUT_EXTRUDE1_DEPTH, mode=Mode.SUBTRACT)

    # Sketch4 → Boss-Extrude3 (add)
    with BuildSketch(Plane(origin=(0, 6, 0), x_dir=(1, 0, 0), z_dir=(0, 1, 0)).offset(BOSS_EXTRUDE3_START)):
        with Locations((-114.438621766, 0)):
            Rectangle(SKETCH4_W, SKETCH4_H)
        with Locations((114.438621766, 0)):
            Rectangle(SKETCH4_W, SKETCH4_H)
        with Locations((0, -114.438621766)):
            Rectangle(SKETCH4_W, SKETCH4_H)
        with Locations((0, 114.438621766)):
            Rectangle(SKETCH4_W, SKETCH4_H)
    extrude(amount=BOSS_EXTRUDE3_DEPTH)


solid = part.part
